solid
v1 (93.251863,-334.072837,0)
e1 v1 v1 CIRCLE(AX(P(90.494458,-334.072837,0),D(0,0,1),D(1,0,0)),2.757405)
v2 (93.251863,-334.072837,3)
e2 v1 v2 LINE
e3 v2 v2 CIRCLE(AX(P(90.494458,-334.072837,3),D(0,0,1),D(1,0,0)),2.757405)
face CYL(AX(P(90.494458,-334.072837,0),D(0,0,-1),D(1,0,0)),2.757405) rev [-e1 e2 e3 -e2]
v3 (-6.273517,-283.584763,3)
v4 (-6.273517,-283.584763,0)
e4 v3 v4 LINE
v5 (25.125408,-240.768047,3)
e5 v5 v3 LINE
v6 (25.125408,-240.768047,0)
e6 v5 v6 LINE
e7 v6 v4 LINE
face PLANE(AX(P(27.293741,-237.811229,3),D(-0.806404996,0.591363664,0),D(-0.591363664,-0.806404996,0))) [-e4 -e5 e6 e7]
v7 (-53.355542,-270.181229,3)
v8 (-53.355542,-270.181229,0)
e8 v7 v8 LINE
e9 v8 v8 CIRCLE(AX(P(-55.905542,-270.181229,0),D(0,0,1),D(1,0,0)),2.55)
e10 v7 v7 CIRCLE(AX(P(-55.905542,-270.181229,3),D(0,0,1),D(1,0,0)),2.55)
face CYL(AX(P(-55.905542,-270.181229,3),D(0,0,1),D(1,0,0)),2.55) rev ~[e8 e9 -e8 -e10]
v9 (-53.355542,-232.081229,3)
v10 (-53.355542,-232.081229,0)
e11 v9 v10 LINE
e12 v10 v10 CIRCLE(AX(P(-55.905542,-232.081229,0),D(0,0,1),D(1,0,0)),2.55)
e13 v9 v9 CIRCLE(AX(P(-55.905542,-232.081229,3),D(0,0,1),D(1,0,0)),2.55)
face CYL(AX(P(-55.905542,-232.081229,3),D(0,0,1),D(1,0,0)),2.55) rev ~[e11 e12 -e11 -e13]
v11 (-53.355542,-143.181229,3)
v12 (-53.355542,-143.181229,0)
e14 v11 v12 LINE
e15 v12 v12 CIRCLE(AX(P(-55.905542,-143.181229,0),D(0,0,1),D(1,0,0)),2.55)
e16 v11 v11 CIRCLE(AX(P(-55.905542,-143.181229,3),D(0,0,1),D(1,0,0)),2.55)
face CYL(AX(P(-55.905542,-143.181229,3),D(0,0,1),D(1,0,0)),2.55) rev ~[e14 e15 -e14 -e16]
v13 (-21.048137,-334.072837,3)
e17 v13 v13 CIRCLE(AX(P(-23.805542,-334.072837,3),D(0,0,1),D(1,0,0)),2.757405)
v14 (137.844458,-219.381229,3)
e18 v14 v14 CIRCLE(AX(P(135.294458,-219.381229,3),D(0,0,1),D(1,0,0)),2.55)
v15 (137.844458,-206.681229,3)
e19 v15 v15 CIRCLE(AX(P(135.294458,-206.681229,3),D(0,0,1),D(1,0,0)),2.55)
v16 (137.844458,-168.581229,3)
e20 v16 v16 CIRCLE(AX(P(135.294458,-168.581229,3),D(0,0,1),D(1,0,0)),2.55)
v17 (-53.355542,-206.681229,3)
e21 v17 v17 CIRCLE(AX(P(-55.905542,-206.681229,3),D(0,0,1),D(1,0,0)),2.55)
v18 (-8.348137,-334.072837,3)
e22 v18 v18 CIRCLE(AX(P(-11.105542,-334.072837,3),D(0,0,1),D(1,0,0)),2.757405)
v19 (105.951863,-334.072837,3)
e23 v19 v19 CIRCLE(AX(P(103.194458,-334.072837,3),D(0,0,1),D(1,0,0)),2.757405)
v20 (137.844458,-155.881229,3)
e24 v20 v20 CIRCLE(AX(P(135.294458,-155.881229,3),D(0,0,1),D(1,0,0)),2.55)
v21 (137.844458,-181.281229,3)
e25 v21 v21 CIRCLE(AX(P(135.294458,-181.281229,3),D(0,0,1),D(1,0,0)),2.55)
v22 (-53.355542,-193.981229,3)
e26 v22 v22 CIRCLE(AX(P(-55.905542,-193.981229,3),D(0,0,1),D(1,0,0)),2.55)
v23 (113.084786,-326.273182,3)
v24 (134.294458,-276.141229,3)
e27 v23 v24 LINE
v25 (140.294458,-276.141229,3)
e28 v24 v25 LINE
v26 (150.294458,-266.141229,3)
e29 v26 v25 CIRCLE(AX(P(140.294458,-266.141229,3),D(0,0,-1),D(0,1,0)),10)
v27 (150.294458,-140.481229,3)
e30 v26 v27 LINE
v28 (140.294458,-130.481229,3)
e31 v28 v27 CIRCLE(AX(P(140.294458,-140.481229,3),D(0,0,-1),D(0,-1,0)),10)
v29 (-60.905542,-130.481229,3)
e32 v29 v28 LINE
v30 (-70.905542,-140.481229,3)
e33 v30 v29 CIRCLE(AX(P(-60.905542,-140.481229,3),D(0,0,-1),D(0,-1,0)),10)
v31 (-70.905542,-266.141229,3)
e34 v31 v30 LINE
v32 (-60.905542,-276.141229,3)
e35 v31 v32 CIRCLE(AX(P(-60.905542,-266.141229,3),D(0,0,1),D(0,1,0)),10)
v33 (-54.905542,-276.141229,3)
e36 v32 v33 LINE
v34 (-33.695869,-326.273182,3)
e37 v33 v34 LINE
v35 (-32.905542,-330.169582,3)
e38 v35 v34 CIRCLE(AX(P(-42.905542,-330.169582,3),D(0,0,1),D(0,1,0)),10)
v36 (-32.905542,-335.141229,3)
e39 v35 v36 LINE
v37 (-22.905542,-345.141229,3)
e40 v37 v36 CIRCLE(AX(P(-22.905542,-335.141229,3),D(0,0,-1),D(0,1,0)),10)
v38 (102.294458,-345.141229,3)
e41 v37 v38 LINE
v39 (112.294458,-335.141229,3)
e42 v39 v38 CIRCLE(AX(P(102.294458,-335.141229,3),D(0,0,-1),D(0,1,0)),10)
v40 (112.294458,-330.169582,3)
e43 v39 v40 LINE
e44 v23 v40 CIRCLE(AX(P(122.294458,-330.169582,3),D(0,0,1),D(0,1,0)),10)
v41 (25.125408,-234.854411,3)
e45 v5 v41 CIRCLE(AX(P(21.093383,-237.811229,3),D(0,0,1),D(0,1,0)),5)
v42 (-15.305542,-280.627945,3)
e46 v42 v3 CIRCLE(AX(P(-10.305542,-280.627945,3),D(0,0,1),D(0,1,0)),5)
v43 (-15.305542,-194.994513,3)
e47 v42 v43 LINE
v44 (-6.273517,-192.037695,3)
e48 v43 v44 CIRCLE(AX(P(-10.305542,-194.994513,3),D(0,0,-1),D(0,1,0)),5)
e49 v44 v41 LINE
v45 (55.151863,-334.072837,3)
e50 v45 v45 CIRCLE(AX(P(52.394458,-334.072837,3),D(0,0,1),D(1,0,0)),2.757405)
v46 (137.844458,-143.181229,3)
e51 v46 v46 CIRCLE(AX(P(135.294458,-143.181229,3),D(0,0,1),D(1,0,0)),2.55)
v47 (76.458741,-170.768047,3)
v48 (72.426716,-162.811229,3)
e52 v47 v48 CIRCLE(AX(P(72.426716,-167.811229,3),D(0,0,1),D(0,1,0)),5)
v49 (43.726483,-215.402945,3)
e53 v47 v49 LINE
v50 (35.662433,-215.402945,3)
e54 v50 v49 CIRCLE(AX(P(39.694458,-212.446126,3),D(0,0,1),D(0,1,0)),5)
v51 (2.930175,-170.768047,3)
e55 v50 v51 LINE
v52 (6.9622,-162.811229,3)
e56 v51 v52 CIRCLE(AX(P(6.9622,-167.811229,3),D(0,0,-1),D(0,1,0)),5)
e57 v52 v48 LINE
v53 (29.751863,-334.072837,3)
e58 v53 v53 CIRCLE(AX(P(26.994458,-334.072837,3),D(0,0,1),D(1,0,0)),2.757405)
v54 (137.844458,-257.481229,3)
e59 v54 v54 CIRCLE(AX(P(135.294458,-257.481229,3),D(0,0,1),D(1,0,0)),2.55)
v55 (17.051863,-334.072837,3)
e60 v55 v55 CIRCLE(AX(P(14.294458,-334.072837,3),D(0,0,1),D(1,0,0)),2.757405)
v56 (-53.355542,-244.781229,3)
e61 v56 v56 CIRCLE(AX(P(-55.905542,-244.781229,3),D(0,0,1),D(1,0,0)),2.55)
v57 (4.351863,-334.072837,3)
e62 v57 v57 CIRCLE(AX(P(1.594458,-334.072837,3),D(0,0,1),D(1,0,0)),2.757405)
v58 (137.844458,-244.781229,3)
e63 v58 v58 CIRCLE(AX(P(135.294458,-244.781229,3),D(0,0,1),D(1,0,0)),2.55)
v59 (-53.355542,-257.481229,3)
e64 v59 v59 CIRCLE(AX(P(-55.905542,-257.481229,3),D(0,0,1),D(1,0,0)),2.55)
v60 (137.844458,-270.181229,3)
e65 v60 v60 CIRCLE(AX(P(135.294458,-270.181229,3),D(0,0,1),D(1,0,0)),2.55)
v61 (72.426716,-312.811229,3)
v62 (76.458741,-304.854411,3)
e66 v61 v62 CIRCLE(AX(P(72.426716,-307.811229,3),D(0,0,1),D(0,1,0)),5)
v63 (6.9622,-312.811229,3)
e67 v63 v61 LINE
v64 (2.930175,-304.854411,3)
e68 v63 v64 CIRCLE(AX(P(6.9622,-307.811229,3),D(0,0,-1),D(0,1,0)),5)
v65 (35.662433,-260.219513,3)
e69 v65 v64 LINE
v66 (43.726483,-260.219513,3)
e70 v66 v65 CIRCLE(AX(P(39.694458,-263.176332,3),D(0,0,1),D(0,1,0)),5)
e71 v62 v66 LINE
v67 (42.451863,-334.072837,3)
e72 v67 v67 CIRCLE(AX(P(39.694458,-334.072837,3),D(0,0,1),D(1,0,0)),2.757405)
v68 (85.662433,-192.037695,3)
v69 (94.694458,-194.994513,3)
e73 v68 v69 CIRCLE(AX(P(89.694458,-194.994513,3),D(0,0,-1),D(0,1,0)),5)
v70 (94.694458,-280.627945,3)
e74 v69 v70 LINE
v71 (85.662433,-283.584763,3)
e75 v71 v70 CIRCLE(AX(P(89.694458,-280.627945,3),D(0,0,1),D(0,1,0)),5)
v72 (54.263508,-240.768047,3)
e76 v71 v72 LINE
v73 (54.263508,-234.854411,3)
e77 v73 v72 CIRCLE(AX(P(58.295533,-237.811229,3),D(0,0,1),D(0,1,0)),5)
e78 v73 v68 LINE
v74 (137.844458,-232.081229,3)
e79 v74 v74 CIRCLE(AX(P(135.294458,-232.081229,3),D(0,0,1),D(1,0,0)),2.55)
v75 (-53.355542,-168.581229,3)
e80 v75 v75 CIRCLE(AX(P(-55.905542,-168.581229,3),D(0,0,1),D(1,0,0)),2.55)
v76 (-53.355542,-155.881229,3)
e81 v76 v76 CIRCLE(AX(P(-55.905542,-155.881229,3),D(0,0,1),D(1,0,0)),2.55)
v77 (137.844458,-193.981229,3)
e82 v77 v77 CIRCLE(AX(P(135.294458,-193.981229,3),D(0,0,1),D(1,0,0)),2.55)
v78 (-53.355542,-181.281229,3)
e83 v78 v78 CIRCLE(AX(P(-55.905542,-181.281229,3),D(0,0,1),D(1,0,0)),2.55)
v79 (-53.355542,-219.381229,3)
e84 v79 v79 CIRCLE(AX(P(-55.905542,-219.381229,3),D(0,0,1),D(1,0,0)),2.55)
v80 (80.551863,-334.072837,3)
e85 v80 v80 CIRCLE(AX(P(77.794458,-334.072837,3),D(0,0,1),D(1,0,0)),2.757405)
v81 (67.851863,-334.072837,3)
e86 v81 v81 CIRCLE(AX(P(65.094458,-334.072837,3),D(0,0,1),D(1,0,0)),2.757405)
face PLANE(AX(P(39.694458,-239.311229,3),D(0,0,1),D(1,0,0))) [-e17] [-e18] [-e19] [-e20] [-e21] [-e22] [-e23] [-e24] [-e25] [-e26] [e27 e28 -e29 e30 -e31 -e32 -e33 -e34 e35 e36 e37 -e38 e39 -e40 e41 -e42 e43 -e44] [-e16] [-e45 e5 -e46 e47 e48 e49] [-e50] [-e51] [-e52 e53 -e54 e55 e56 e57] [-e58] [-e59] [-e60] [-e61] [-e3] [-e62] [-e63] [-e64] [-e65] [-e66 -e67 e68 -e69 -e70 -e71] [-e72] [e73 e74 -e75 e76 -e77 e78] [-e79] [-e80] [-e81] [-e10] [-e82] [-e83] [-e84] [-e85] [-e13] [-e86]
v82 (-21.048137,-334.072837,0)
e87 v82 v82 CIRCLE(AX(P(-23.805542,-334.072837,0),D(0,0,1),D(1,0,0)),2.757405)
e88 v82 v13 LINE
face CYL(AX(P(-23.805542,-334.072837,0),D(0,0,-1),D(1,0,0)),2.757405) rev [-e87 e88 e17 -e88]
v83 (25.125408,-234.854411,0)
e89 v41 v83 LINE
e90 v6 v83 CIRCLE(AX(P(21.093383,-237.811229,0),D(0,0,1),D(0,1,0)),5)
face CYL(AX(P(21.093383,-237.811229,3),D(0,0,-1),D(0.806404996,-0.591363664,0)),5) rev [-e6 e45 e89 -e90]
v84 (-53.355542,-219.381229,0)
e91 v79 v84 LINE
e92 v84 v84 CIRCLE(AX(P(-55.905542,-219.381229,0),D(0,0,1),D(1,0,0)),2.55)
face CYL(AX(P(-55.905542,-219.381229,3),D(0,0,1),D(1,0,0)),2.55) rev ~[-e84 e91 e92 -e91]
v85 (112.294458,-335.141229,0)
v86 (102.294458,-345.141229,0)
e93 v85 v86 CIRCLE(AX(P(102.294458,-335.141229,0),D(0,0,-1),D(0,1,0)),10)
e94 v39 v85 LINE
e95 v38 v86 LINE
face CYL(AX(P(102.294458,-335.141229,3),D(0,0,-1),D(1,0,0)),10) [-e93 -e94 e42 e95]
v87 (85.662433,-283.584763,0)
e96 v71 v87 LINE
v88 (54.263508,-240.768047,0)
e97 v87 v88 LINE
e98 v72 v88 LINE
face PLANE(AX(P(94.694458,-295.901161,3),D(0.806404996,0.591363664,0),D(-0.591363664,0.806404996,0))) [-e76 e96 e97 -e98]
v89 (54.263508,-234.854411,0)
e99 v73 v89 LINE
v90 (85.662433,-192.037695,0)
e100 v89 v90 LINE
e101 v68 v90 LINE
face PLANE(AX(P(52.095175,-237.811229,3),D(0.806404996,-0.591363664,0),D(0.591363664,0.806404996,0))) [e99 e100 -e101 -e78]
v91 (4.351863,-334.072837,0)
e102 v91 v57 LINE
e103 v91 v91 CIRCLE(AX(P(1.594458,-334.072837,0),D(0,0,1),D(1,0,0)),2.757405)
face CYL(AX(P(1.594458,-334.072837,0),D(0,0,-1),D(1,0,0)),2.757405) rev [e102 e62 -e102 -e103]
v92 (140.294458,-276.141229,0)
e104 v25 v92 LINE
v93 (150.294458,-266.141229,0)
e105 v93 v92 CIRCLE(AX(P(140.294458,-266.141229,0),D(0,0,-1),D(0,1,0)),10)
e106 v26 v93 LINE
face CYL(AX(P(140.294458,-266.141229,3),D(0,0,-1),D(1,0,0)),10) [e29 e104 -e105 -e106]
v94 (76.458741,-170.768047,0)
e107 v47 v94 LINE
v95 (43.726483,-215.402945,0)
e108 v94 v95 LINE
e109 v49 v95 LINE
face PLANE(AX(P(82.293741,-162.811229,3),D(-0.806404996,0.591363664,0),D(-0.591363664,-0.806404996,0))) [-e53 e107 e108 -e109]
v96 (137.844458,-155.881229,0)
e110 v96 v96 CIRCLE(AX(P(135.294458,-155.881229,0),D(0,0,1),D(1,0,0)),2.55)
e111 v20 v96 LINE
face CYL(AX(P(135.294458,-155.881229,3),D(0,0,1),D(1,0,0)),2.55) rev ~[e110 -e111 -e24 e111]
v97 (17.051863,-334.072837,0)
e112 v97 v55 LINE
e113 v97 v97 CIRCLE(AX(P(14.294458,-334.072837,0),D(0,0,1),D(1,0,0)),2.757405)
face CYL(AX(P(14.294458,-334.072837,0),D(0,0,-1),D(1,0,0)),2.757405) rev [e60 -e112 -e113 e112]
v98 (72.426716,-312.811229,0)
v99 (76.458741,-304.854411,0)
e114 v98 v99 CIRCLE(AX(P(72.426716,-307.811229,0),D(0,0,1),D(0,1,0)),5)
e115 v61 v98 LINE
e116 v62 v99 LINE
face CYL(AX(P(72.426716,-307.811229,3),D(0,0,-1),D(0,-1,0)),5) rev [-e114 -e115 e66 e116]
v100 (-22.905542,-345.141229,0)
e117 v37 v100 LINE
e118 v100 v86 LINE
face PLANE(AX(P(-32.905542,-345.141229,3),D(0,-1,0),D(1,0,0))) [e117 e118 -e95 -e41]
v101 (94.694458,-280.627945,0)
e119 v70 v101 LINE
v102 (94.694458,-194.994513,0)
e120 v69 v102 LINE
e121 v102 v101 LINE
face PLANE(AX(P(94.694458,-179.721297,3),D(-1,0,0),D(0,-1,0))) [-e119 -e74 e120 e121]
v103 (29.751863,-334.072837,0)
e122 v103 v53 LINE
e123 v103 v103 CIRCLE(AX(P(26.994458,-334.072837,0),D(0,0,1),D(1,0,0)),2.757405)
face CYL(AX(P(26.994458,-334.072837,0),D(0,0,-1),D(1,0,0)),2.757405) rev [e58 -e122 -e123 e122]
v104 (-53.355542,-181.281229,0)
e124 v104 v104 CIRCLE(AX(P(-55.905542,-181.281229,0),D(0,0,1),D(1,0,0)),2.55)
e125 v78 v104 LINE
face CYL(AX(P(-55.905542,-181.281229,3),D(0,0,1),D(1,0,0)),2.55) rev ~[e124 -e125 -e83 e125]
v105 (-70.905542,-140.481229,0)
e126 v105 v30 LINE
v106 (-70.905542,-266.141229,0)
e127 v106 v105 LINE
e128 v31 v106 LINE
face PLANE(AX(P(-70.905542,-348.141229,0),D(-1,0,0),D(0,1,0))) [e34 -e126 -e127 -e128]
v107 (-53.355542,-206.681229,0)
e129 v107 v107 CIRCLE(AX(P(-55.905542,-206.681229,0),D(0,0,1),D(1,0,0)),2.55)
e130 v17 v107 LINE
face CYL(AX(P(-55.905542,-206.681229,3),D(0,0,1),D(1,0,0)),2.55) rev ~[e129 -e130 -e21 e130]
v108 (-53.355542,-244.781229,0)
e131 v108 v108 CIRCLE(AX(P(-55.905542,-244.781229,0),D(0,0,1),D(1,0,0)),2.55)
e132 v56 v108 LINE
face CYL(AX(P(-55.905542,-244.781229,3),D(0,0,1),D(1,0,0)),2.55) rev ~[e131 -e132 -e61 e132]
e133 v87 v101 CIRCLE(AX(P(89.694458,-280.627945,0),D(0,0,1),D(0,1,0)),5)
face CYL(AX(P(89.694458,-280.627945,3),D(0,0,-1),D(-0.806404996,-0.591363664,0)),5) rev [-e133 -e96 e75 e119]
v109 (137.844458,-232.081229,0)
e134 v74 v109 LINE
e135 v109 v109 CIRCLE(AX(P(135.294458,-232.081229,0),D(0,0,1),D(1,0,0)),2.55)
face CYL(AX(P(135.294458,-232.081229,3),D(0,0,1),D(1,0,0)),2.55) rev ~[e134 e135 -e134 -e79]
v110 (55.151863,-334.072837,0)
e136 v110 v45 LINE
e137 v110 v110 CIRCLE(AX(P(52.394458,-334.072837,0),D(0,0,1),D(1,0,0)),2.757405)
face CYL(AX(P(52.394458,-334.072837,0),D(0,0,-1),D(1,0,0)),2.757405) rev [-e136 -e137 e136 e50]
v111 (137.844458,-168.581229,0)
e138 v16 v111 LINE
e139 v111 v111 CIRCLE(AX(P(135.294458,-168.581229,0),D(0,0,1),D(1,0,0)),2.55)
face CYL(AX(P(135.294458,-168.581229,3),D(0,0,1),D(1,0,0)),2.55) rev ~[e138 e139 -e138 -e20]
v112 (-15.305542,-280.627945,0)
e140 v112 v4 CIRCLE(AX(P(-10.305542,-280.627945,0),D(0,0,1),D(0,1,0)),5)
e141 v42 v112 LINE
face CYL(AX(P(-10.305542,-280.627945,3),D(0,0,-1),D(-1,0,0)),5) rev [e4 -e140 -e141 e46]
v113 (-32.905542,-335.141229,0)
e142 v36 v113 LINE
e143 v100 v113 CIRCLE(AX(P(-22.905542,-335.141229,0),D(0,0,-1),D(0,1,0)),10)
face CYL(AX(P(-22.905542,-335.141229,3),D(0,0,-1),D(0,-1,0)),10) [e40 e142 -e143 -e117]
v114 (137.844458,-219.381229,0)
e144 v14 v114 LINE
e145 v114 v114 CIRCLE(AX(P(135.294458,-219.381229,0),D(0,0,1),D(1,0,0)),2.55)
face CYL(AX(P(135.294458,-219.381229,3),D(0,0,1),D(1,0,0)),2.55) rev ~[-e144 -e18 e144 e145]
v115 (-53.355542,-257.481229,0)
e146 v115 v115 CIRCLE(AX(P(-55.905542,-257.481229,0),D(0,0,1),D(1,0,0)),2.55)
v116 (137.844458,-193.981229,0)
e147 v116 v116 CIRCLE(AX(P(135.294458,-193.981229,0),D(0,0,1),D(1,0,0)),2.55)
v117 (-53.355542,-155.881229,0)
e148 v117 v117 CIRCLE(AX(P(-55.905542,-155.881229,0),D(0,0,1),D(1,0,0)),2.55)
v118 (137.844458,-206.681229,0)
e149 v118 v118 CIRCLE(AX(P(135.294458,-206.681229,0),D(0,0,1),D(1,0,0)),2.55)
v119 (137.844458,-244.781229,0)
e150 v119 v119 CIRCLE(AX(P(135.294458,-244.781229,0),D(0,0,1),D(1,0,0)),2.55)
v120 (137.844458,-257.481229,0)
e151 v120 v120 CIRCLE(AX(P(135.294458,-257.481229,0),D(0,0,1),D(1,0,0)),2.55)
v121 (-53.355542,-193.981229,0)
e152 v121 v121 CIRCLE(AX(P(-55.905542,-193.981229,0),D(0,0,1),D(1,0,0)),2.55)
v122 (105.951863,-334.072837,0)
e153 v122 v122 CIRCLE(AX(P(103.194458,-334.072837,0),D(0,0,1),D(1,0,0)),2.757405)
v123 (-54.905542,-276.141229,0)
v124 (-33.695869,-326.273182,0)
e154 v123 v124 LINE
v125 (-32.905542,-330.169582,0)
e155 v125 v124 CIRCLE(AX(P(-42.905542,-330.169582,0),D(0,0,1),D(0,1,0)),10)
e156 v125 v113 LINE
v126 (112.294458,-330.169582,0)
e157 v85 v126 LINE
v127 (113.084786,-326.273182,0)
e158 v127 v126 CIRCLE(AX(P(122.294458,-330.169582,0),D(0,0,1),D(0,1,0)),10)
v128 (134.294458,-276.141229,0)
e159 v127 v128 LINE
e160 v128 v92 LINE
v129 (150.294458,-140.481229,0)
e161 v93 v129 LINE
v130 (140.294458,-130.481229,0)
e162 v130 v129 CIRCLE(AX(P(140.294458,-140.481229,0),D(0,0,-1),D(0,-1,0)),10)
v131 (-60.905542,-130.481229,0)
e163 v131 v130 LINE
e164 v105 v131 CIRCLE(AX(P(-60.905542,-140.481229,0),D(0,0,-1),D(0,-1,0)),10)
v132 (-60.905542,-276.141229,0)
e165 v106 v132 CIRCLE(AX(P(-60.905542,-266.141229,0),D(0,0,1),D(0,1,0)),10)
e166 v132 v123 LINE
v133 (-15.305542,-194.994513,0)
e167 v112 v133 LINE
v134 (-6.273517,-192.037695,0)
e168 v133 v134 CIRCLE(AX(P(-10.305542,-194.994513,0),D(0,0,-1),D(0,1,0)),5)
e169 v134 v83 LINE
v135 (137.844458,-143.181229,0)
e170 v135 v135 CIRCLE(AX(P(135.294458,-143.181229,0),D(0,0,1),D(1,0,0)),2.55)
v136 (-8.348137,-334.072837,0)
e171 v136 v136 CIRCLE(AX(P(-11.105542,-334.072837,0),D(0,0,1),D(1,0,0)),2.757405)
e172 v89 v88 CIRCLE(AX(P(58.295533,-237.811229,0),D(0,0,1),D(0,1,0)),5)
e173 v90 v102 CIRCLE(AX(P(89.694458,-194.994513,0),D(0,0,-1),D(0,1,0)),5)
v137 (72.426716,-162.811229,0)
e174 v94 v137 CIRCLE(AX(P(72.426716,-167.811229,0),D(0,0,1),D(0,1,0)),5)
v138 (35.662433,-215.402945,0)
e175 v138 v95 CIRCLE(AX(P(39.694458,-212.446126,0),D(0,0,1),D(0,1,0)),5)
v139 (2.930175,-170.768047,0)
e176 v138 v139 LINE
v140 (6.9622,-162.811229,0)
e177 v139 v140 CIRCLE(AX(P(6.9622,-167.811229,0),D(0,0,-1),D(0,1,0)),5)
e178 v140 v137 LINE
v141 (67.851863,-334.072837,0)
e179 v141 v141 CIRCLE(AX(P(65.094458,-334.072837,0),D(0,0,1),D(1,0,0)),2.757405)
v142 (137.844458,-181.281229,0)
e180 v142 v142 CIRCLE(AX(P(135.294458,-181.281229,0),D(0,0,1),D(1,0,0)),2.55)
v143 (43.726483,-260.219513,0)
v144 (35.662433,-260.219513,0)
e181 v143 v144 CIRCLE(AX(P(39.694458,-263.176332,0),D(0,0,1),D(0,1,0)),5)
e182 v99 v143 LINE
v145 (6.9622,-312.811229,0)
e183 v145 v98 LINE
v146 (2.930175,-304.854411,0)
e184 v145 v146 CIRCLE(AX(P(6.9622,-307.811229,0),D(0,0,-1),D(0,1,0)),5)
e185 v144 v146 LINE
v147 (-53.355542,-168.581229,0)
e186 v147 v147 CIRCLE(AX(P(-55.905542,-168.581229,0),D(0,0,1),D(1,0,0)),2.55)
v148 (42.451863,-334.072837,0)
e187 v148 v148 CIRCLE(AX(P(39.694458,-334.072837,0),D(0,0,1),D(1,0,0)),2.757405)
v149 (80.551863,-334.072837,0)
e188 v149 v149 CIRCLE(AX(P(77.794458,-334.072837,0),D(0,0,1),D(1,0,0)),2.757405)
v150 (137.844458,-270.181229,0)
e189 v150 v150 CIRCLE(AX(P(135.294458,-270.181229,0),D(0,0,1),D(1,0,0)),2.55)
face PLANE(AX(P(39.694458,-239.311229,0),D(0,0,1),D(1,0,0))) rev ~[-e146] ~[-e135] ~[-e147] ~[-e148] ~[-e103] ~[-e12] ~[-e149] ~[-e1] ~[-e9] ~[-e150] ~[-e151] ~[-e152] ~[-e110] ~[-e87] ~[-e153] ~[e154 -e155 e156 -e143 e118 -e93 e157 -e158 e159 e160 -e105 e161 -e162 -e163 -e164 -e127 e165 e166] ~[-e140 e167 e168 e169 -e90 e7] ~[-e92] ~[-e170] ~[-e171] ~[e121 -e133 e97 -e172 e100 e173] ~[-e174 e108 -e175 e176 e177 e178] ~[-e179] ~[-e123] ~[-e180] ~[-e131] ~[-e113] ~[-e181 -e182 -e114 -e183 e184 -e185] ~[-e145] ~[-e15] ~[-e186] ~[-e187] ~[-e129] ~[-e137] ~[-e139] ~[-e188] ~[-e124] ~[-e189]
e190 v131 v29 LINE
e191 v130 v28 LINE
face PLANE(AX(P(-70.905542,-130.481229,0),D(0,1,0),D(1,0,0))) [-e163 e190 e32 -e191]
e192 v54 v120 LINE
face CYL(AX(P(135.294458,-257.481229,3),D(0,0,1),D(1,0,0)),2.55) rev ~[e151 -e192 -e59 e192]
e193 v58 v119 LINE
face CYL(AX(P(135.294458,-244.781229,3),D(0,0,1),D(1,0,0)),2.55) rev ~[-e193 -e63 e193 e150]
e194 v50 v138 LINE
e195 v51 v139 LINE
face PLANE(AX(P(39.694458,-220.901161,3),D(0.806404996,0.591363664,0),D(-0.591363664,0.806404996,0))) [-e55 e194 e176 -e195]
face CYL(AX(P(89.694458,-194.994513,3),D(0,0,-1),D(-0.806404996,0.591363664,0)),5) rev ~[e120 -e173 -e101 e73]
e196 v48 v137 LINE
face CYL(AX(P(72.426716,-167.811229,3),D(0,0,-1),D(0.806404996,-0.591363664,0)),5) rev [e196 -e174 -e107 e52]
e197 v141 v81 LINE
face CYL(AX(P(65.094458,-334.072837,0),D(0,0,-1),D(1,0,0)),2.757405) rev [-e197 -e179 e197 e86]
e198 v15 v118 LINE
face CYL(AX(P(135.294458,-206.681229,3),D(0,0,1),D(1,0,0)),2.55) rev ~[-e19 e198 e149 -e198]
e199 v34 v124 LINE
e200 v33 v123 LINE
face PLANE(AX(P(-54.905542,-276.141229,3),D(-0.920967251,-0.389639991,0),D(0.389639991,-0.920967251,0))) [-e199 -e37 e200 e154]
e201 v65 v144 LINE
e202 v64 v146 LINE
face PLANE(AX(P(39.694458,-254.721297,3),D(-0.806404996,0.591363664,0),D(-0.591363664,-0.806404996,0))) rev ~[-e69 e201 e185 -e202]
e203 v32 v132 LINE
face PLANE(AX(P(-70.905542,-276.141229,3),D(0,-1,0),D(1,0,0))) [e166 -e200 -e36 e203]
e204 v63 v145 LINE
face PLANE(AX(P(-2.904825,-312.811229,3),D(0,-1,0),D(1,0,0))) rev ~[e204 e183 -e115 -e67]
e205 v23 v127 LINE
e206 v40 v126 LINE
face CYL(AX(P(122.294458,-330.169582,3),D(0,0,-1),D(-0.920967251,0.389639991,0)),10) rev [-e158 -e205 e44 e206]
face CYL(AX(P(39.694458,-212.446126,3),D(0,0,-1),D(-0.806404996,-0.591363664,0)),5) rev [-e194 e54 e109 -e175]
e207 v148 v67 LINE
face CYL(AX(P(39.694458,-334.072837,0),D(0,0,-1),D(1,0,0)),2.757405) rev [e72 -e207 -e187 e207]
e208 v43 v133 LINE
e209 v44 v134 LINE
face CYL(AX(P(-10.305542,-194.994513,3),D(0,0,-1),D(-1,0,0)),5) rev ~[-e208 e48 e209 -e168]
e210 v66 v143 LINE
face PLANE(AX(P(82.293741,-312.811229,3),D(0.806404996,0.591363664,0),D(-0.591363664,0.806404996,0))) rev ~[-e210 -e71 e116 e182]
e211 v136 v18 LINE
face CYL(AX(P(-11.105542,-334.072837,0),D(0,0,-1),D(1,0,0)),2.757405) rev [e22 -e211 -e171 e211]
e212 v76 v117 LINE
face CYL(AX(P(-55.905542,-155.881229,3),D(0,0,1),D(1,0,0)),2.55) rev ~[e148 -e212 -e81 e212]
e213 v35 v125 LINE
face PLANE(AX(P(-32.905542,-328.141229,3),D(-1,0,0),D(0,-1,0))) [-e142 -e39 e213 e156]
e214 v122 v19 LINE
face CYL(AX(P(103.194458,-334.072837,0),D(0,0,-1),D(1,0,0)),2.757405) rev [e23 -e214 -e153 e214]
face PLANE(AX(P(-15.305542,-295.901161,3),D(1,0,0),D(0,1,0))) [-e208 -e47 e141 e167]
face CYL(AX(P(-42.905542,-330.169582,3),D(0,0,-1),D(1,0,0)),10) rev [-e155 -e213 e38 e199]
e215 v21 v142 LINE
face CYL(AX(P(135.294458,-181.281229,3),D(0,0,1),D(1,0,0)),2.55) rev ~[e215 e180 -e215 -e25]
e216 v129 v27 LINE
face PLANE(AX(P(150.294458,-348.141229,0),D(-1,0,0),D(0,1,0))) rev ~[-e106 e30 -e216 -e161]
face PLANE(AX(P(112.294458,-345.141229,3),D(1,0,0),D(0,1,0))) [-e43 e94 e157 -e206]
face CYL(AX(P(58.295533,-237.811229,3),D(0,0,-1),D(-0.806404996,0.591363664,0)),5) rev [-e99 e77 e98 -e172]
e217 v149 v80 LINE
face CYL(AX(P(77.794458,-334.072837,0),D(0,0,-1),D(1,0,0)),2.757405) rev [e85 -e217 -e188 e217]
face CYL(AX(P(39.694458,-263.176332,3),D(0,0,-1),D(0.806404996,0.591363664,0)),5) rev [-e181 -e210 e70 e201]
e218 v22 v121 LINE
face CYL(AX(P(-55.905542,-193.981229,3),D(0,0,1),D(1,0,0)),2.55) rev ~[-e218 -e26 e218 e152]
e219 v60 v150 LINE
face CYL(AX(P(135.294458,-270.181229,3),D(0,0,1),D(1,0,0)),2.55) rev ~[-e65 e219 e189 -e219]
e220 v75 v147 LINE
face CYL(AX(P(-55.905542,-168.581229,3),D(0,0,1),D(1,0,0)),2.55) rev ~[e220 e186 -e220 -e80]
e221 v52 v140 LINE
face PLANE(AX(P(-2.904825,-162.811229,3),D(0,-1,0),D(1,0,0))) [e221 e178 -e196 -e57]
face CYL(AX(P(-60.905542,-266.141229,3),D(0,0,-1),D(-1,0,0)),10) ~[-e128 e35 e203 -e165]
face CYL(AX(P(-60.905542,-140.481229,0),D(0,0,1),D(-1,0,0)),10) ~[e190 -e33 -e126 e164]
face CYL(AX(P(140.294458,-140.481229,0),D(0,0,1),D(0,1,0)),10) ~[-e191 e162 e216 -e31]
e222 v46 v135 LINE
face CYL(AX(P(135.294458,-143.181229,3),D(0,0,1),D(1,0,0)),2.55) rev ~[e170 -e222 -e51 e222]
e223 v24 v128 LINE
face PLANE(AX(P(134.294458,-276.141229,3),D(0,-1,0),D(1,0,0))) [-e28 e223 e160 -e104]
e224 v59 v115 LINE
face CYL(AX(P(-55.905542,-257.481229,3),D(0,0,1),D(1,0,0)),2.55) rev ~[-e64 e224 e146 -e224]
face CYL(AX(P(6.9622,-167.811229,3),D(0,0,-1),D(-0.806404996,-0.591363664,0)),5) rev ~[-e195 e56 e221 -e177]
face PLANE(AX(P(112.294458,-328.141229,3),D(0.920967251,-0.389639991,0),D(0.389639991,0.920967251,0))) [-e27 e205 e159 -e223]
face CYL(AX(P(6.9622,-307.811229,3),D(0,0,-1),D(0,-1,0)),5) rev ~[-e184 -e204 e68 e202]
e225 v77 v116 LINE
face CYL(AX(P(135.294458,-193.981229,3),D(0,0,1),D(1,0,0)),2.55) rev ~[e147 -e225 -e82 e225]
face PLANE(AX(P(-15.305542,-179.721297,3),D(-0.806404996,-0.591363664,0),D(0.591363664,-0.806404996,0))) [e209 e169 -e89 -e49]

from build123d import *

# Parameters (mm, degrees)
SKETCH_1_W          = 221.2
SKETCH_1_H          = 217.66
SKETCH_1_R          = 2.757404821
EXTRUDE_1_DEPTH     = 3
SKETCH_2_R          = 2.55
CUT_EXTRUDE_1_DEPTH = 10
CUT_EXTRUDE_2_DEPTH = 10
FILLET_1_R          = 10
CUT_EXTRUDE_3_DEPTH = 10
FILLET_2_R          = 5


with BuildPart() as part:
    # 草图1 → 凸台-拉伸1 (new body)
    with BuildSketch(Plane.XY):
        with Locations((39.694458169, -239.311229018)):
            Rectangle(SKETCH_1_W, SKETCH_1_H)
        with Locations((-49.205541831, -334.072837073)):
            Circle(SKETCH_1_R, mode=Mode.SUBTRACT)
        with Locations((-36.505541831, -334.072837073)):
            Circle(SKETCH_1_R, mode=Mode.SUBTRACT)
        with Locations((-23.805541831, -334.072837073)):
            Circle(SKETCH_1_R, mode=Mode.SUBTRACT)
        with Locations((-11.105541831, -334.072837073)):
            Circle(SKETCH_1_R, mode=Mode.SUBTRACT)
        with Locations((1.594458169, -334.072837073)):
            Circle(SKETCH_1_R, mode=Mode.SUBTRACT)
        with Locations((14.294458169, -334.072837073)):
            Circle(SKETCH_1_R, mode=Mode.SUBTRACT)
        with Locations((26.994458169, -334.072837073)):
            Circle(SKETCH_1_R, mode=Mode.SUBTRACT)
        with Locations((39.694458169, -334.072837073)):
            Circle(SKETCH_1_R, mode=Mode.SUBTRACT)
        with Locations((52.394458169, -334.072837073)):
            Circle(SKETCH_1_R, mode=Mode.SUBTRACT)
        with Locations((65.094458169, -334.072837073)):
            Circle(SKETCH_1_R, mode=Mode.SUBTRACT)
        with Locations((77.794458169, -334.072837073)):
            Circle(SKETCH_1_R, mode=Mode.SUBTRACT)
        with Locations((90.494458169, -334.072837073)):
            Circle(SKETCH_1_R, mode=Mode.SUBTRACT)
        with Locations((103.194458169, -334.072837073)):
            Circle(SKETCH_1_R, mode=Mode.SUBTRACT)
        with Locations((115.894458169, -334.072837073)):
            Circle(SKETCH_1_R, mode=Mode.SUBTRACT)
        with Locations((-61.905541831, -334.072837073)):
            Circle(SKETCH_1_R, mode=Mode.SUBTRACT)
        with Locations((128.594458169, -334.072837073)):
            Circle(SKETCH_1_R, mode=Mode.SUBTRACT)
        with Locations((141.294458169, -334.072837073)):
            Circle(SKETCH_1_R, mode=Mode.SUBTRACT)
    extrude(amount=EXTRUDE_1_DEPTH)

    # 草图2 → 切除-拉伸1 (cut)
    with BuildSketch(Plane.XY.offset(3)):
        with Locations((-55.905541831, -143.181229018)):
            Circle(SKETCH_2_R)
        with Locations((-55.905541831, -155.881229018)):
            Circle(SKETCH_2_R)
        with Locations((-55.905541831, -168.581229018)):
            Circle(SKETCH_2_R)
        with Locations((-55.905541831, -181.281229018)):
            Circle(SKETCH_2_R)
        with Locations((-55.905541831, -193.981229018)):
            Circle(SKETCH_2_R)
        with Locations((-55.905541831, -206.681229018)):
            Circle(SKETCH_2_R)
        with Locations((-55.905541831, -219.381229018)):
            Circle(SKETCH_2_R)
        with Locations((-55.905541831, -232.081229018)):
            Circle(SKETCH_2_R)
        with Locations((-55.905541831, -244.781229018)):
            Circle(SKETCH_2_R)
        with Locations((-55.905541831, -257.481229018)):
            Circle(SKETCH_2_R)
        with Locations((-55.905541831, -270.181229018)):
            Circle(SKETCH_2_R)
        with Locations((-55.905541831, -282.881229018)):
            Circle(SKETCH_2_R)
        with Locations((-55.905541831, -295.581229018)):
            Circle(SKETCH_2_R)
        with Locations((-55.905541831, -308.281229018)):
            Circle(SKETCH_2_R)
        with Locations((-55.905541831, -320.981229018)):
            Circle(SKETCH_2_R)
        with Locations((135.294458169, -320.981229018)):
            Circle(SKETCH_2_R)
        with Locations((135.294458169, -308.281229018)):
            Circle(SKETCH_2_R)
        with Locations((135.294458169, -295.581229018)):
            Circle(SKETCH_2_R)
        with Locations((135.294458169, -282.881229018)):
            Circle(SKETCH_2_R)
        with Locations((135.294458169, -270.181229018)):
            Circle(SKETCH_2_R)
        with Locations((135.294458169, -257.481229018)):
            Circle(SKETCH_2_R)
        with Locations((135.294458169, -244.781229018)):
            Circle(SKETCH_2_R)
        with Locations((135.294458169, -232.081229018)):
            Circle(SKETCH_2_R)
        with Locations((135.294458169, -219.381229018)):
            Circle(SKETCH_2_R)
        with Locations((135.294458169, -206.681229018)):
            Circle(SKETCH_2_R)
        with Locations((135.294458169, -193.981229018)):
            Circle(SKETCH_2_R)
        with Locations((135.294458169, -181.281229018)):
            Circle(SKETCH_2_R)
        with Locations((135.294458169, -168.581229018)):
            Circle(SKETCH_2_R)
        with Locations((135.294458169, -155.881229018)):
            Circle(SKETCH_2_R)
        with Locations((135.294458169, -143.181229018)):
            Circle(SKETCH_2_R)
    extrude(amount=-CUT_EXTRUDE_1_DEPTH, mode=Mode.SUBTRACT)

    # 草图3 → 切除-拉伸2 (cut)
    with BuildSketch(Plane.XY.offset(3)):
        Polygon((112.294458169, -345.141229018), (112.294458169, -328.141229018), (134.294458169, -276.141229018), (150.294458169, -276.141229018), (150.294458169, -348.141229018), (-70.905541831, -348.141229018), (-70.905541831, -276.141229018), (-54.905541831, -276.141229018), (-32.905541831, -328.141229018), (-32.905541831, -345.141229018), align=None)
    extrude(amount=-CUT_EXTRUDE_2_DEPTH, mode=Mode.SUBTRACT)

    # 圆角1
    fillet_1_edges = [part.edges().sort_by_distance(p)[0] for p in [
        (150.294458169, -276.141229018, 1.5),
        (112.294458169, -328.141229018, 1.5),
        (-32.905541831, -328.141229018, 1.5),
        (-32.905541831, -345.141229018, 1.5),
        (112.294458169, -345.141229018, 1.5),
        (-70.905541831, -276.141229018, 1.5),
        (-70.905541831, -130.481229018, 1.5),
        (150.294458169, -130.481229018, 1.5),
    ]]
    fillet(fillet_1_edges, radius=FILLET_1_R)

    # 草图4 → 切除-拉伸3 (cut)
    with BuildSketch(Plane.XY.offset(3)):
        Polygon((-15.305541831, -179.721297416), (27.293741344, -237.811229018), (-15.305541831, -295.90116062), align=None)
        Polygon((-2.904825006, -162.811229018), (82.293741344, -162.811229018), (39.694458169, -220.90116062), align=None)
        Polygon((-2.904825006, -312.811229018), (82.293741344, -312.811229018), (39.694458169, -254.721297416), align=None)
        Polygon((94.694458169, -179.721297416), (94.694458169, -295.90116062), (52.095174994, -237.811229018), align=None)
    extrude(amount=-CUT_EXTRUDE_3_DEPTH, mode=Mode.SUBTRACT)

    # 圆角2
    fillet_2_edges = [part.edges().sort_by_distance(p)[0] for p in [
        (-2.904825006, -312.811229018, 1.5),
        (39.694458169, -254.721297416, 1.5),
        (82.293741344, -312.811229018, 1.5),
        (-15.305541831, -295.90116062, 1.5),
        (-15.305541831, -179.721297416, 1.5),
        (27.293741344, -237.811229018, 1.5),
        (94.694458169, -295.90116062, 1.5),
        (52.095174994, -237.811229018, 1.5),
        (94.694458169, -179.721297416, 1.5),
        (39.694458169, -220.90116062, 1.5),
        (-2.904825006, -162.811229018, 1.5),
        (82.293741344, -162.811229018, 1.5),
    ]]
    fillet(fillet_2_edges, radius=FILLET_2_R)


solid = part.part
